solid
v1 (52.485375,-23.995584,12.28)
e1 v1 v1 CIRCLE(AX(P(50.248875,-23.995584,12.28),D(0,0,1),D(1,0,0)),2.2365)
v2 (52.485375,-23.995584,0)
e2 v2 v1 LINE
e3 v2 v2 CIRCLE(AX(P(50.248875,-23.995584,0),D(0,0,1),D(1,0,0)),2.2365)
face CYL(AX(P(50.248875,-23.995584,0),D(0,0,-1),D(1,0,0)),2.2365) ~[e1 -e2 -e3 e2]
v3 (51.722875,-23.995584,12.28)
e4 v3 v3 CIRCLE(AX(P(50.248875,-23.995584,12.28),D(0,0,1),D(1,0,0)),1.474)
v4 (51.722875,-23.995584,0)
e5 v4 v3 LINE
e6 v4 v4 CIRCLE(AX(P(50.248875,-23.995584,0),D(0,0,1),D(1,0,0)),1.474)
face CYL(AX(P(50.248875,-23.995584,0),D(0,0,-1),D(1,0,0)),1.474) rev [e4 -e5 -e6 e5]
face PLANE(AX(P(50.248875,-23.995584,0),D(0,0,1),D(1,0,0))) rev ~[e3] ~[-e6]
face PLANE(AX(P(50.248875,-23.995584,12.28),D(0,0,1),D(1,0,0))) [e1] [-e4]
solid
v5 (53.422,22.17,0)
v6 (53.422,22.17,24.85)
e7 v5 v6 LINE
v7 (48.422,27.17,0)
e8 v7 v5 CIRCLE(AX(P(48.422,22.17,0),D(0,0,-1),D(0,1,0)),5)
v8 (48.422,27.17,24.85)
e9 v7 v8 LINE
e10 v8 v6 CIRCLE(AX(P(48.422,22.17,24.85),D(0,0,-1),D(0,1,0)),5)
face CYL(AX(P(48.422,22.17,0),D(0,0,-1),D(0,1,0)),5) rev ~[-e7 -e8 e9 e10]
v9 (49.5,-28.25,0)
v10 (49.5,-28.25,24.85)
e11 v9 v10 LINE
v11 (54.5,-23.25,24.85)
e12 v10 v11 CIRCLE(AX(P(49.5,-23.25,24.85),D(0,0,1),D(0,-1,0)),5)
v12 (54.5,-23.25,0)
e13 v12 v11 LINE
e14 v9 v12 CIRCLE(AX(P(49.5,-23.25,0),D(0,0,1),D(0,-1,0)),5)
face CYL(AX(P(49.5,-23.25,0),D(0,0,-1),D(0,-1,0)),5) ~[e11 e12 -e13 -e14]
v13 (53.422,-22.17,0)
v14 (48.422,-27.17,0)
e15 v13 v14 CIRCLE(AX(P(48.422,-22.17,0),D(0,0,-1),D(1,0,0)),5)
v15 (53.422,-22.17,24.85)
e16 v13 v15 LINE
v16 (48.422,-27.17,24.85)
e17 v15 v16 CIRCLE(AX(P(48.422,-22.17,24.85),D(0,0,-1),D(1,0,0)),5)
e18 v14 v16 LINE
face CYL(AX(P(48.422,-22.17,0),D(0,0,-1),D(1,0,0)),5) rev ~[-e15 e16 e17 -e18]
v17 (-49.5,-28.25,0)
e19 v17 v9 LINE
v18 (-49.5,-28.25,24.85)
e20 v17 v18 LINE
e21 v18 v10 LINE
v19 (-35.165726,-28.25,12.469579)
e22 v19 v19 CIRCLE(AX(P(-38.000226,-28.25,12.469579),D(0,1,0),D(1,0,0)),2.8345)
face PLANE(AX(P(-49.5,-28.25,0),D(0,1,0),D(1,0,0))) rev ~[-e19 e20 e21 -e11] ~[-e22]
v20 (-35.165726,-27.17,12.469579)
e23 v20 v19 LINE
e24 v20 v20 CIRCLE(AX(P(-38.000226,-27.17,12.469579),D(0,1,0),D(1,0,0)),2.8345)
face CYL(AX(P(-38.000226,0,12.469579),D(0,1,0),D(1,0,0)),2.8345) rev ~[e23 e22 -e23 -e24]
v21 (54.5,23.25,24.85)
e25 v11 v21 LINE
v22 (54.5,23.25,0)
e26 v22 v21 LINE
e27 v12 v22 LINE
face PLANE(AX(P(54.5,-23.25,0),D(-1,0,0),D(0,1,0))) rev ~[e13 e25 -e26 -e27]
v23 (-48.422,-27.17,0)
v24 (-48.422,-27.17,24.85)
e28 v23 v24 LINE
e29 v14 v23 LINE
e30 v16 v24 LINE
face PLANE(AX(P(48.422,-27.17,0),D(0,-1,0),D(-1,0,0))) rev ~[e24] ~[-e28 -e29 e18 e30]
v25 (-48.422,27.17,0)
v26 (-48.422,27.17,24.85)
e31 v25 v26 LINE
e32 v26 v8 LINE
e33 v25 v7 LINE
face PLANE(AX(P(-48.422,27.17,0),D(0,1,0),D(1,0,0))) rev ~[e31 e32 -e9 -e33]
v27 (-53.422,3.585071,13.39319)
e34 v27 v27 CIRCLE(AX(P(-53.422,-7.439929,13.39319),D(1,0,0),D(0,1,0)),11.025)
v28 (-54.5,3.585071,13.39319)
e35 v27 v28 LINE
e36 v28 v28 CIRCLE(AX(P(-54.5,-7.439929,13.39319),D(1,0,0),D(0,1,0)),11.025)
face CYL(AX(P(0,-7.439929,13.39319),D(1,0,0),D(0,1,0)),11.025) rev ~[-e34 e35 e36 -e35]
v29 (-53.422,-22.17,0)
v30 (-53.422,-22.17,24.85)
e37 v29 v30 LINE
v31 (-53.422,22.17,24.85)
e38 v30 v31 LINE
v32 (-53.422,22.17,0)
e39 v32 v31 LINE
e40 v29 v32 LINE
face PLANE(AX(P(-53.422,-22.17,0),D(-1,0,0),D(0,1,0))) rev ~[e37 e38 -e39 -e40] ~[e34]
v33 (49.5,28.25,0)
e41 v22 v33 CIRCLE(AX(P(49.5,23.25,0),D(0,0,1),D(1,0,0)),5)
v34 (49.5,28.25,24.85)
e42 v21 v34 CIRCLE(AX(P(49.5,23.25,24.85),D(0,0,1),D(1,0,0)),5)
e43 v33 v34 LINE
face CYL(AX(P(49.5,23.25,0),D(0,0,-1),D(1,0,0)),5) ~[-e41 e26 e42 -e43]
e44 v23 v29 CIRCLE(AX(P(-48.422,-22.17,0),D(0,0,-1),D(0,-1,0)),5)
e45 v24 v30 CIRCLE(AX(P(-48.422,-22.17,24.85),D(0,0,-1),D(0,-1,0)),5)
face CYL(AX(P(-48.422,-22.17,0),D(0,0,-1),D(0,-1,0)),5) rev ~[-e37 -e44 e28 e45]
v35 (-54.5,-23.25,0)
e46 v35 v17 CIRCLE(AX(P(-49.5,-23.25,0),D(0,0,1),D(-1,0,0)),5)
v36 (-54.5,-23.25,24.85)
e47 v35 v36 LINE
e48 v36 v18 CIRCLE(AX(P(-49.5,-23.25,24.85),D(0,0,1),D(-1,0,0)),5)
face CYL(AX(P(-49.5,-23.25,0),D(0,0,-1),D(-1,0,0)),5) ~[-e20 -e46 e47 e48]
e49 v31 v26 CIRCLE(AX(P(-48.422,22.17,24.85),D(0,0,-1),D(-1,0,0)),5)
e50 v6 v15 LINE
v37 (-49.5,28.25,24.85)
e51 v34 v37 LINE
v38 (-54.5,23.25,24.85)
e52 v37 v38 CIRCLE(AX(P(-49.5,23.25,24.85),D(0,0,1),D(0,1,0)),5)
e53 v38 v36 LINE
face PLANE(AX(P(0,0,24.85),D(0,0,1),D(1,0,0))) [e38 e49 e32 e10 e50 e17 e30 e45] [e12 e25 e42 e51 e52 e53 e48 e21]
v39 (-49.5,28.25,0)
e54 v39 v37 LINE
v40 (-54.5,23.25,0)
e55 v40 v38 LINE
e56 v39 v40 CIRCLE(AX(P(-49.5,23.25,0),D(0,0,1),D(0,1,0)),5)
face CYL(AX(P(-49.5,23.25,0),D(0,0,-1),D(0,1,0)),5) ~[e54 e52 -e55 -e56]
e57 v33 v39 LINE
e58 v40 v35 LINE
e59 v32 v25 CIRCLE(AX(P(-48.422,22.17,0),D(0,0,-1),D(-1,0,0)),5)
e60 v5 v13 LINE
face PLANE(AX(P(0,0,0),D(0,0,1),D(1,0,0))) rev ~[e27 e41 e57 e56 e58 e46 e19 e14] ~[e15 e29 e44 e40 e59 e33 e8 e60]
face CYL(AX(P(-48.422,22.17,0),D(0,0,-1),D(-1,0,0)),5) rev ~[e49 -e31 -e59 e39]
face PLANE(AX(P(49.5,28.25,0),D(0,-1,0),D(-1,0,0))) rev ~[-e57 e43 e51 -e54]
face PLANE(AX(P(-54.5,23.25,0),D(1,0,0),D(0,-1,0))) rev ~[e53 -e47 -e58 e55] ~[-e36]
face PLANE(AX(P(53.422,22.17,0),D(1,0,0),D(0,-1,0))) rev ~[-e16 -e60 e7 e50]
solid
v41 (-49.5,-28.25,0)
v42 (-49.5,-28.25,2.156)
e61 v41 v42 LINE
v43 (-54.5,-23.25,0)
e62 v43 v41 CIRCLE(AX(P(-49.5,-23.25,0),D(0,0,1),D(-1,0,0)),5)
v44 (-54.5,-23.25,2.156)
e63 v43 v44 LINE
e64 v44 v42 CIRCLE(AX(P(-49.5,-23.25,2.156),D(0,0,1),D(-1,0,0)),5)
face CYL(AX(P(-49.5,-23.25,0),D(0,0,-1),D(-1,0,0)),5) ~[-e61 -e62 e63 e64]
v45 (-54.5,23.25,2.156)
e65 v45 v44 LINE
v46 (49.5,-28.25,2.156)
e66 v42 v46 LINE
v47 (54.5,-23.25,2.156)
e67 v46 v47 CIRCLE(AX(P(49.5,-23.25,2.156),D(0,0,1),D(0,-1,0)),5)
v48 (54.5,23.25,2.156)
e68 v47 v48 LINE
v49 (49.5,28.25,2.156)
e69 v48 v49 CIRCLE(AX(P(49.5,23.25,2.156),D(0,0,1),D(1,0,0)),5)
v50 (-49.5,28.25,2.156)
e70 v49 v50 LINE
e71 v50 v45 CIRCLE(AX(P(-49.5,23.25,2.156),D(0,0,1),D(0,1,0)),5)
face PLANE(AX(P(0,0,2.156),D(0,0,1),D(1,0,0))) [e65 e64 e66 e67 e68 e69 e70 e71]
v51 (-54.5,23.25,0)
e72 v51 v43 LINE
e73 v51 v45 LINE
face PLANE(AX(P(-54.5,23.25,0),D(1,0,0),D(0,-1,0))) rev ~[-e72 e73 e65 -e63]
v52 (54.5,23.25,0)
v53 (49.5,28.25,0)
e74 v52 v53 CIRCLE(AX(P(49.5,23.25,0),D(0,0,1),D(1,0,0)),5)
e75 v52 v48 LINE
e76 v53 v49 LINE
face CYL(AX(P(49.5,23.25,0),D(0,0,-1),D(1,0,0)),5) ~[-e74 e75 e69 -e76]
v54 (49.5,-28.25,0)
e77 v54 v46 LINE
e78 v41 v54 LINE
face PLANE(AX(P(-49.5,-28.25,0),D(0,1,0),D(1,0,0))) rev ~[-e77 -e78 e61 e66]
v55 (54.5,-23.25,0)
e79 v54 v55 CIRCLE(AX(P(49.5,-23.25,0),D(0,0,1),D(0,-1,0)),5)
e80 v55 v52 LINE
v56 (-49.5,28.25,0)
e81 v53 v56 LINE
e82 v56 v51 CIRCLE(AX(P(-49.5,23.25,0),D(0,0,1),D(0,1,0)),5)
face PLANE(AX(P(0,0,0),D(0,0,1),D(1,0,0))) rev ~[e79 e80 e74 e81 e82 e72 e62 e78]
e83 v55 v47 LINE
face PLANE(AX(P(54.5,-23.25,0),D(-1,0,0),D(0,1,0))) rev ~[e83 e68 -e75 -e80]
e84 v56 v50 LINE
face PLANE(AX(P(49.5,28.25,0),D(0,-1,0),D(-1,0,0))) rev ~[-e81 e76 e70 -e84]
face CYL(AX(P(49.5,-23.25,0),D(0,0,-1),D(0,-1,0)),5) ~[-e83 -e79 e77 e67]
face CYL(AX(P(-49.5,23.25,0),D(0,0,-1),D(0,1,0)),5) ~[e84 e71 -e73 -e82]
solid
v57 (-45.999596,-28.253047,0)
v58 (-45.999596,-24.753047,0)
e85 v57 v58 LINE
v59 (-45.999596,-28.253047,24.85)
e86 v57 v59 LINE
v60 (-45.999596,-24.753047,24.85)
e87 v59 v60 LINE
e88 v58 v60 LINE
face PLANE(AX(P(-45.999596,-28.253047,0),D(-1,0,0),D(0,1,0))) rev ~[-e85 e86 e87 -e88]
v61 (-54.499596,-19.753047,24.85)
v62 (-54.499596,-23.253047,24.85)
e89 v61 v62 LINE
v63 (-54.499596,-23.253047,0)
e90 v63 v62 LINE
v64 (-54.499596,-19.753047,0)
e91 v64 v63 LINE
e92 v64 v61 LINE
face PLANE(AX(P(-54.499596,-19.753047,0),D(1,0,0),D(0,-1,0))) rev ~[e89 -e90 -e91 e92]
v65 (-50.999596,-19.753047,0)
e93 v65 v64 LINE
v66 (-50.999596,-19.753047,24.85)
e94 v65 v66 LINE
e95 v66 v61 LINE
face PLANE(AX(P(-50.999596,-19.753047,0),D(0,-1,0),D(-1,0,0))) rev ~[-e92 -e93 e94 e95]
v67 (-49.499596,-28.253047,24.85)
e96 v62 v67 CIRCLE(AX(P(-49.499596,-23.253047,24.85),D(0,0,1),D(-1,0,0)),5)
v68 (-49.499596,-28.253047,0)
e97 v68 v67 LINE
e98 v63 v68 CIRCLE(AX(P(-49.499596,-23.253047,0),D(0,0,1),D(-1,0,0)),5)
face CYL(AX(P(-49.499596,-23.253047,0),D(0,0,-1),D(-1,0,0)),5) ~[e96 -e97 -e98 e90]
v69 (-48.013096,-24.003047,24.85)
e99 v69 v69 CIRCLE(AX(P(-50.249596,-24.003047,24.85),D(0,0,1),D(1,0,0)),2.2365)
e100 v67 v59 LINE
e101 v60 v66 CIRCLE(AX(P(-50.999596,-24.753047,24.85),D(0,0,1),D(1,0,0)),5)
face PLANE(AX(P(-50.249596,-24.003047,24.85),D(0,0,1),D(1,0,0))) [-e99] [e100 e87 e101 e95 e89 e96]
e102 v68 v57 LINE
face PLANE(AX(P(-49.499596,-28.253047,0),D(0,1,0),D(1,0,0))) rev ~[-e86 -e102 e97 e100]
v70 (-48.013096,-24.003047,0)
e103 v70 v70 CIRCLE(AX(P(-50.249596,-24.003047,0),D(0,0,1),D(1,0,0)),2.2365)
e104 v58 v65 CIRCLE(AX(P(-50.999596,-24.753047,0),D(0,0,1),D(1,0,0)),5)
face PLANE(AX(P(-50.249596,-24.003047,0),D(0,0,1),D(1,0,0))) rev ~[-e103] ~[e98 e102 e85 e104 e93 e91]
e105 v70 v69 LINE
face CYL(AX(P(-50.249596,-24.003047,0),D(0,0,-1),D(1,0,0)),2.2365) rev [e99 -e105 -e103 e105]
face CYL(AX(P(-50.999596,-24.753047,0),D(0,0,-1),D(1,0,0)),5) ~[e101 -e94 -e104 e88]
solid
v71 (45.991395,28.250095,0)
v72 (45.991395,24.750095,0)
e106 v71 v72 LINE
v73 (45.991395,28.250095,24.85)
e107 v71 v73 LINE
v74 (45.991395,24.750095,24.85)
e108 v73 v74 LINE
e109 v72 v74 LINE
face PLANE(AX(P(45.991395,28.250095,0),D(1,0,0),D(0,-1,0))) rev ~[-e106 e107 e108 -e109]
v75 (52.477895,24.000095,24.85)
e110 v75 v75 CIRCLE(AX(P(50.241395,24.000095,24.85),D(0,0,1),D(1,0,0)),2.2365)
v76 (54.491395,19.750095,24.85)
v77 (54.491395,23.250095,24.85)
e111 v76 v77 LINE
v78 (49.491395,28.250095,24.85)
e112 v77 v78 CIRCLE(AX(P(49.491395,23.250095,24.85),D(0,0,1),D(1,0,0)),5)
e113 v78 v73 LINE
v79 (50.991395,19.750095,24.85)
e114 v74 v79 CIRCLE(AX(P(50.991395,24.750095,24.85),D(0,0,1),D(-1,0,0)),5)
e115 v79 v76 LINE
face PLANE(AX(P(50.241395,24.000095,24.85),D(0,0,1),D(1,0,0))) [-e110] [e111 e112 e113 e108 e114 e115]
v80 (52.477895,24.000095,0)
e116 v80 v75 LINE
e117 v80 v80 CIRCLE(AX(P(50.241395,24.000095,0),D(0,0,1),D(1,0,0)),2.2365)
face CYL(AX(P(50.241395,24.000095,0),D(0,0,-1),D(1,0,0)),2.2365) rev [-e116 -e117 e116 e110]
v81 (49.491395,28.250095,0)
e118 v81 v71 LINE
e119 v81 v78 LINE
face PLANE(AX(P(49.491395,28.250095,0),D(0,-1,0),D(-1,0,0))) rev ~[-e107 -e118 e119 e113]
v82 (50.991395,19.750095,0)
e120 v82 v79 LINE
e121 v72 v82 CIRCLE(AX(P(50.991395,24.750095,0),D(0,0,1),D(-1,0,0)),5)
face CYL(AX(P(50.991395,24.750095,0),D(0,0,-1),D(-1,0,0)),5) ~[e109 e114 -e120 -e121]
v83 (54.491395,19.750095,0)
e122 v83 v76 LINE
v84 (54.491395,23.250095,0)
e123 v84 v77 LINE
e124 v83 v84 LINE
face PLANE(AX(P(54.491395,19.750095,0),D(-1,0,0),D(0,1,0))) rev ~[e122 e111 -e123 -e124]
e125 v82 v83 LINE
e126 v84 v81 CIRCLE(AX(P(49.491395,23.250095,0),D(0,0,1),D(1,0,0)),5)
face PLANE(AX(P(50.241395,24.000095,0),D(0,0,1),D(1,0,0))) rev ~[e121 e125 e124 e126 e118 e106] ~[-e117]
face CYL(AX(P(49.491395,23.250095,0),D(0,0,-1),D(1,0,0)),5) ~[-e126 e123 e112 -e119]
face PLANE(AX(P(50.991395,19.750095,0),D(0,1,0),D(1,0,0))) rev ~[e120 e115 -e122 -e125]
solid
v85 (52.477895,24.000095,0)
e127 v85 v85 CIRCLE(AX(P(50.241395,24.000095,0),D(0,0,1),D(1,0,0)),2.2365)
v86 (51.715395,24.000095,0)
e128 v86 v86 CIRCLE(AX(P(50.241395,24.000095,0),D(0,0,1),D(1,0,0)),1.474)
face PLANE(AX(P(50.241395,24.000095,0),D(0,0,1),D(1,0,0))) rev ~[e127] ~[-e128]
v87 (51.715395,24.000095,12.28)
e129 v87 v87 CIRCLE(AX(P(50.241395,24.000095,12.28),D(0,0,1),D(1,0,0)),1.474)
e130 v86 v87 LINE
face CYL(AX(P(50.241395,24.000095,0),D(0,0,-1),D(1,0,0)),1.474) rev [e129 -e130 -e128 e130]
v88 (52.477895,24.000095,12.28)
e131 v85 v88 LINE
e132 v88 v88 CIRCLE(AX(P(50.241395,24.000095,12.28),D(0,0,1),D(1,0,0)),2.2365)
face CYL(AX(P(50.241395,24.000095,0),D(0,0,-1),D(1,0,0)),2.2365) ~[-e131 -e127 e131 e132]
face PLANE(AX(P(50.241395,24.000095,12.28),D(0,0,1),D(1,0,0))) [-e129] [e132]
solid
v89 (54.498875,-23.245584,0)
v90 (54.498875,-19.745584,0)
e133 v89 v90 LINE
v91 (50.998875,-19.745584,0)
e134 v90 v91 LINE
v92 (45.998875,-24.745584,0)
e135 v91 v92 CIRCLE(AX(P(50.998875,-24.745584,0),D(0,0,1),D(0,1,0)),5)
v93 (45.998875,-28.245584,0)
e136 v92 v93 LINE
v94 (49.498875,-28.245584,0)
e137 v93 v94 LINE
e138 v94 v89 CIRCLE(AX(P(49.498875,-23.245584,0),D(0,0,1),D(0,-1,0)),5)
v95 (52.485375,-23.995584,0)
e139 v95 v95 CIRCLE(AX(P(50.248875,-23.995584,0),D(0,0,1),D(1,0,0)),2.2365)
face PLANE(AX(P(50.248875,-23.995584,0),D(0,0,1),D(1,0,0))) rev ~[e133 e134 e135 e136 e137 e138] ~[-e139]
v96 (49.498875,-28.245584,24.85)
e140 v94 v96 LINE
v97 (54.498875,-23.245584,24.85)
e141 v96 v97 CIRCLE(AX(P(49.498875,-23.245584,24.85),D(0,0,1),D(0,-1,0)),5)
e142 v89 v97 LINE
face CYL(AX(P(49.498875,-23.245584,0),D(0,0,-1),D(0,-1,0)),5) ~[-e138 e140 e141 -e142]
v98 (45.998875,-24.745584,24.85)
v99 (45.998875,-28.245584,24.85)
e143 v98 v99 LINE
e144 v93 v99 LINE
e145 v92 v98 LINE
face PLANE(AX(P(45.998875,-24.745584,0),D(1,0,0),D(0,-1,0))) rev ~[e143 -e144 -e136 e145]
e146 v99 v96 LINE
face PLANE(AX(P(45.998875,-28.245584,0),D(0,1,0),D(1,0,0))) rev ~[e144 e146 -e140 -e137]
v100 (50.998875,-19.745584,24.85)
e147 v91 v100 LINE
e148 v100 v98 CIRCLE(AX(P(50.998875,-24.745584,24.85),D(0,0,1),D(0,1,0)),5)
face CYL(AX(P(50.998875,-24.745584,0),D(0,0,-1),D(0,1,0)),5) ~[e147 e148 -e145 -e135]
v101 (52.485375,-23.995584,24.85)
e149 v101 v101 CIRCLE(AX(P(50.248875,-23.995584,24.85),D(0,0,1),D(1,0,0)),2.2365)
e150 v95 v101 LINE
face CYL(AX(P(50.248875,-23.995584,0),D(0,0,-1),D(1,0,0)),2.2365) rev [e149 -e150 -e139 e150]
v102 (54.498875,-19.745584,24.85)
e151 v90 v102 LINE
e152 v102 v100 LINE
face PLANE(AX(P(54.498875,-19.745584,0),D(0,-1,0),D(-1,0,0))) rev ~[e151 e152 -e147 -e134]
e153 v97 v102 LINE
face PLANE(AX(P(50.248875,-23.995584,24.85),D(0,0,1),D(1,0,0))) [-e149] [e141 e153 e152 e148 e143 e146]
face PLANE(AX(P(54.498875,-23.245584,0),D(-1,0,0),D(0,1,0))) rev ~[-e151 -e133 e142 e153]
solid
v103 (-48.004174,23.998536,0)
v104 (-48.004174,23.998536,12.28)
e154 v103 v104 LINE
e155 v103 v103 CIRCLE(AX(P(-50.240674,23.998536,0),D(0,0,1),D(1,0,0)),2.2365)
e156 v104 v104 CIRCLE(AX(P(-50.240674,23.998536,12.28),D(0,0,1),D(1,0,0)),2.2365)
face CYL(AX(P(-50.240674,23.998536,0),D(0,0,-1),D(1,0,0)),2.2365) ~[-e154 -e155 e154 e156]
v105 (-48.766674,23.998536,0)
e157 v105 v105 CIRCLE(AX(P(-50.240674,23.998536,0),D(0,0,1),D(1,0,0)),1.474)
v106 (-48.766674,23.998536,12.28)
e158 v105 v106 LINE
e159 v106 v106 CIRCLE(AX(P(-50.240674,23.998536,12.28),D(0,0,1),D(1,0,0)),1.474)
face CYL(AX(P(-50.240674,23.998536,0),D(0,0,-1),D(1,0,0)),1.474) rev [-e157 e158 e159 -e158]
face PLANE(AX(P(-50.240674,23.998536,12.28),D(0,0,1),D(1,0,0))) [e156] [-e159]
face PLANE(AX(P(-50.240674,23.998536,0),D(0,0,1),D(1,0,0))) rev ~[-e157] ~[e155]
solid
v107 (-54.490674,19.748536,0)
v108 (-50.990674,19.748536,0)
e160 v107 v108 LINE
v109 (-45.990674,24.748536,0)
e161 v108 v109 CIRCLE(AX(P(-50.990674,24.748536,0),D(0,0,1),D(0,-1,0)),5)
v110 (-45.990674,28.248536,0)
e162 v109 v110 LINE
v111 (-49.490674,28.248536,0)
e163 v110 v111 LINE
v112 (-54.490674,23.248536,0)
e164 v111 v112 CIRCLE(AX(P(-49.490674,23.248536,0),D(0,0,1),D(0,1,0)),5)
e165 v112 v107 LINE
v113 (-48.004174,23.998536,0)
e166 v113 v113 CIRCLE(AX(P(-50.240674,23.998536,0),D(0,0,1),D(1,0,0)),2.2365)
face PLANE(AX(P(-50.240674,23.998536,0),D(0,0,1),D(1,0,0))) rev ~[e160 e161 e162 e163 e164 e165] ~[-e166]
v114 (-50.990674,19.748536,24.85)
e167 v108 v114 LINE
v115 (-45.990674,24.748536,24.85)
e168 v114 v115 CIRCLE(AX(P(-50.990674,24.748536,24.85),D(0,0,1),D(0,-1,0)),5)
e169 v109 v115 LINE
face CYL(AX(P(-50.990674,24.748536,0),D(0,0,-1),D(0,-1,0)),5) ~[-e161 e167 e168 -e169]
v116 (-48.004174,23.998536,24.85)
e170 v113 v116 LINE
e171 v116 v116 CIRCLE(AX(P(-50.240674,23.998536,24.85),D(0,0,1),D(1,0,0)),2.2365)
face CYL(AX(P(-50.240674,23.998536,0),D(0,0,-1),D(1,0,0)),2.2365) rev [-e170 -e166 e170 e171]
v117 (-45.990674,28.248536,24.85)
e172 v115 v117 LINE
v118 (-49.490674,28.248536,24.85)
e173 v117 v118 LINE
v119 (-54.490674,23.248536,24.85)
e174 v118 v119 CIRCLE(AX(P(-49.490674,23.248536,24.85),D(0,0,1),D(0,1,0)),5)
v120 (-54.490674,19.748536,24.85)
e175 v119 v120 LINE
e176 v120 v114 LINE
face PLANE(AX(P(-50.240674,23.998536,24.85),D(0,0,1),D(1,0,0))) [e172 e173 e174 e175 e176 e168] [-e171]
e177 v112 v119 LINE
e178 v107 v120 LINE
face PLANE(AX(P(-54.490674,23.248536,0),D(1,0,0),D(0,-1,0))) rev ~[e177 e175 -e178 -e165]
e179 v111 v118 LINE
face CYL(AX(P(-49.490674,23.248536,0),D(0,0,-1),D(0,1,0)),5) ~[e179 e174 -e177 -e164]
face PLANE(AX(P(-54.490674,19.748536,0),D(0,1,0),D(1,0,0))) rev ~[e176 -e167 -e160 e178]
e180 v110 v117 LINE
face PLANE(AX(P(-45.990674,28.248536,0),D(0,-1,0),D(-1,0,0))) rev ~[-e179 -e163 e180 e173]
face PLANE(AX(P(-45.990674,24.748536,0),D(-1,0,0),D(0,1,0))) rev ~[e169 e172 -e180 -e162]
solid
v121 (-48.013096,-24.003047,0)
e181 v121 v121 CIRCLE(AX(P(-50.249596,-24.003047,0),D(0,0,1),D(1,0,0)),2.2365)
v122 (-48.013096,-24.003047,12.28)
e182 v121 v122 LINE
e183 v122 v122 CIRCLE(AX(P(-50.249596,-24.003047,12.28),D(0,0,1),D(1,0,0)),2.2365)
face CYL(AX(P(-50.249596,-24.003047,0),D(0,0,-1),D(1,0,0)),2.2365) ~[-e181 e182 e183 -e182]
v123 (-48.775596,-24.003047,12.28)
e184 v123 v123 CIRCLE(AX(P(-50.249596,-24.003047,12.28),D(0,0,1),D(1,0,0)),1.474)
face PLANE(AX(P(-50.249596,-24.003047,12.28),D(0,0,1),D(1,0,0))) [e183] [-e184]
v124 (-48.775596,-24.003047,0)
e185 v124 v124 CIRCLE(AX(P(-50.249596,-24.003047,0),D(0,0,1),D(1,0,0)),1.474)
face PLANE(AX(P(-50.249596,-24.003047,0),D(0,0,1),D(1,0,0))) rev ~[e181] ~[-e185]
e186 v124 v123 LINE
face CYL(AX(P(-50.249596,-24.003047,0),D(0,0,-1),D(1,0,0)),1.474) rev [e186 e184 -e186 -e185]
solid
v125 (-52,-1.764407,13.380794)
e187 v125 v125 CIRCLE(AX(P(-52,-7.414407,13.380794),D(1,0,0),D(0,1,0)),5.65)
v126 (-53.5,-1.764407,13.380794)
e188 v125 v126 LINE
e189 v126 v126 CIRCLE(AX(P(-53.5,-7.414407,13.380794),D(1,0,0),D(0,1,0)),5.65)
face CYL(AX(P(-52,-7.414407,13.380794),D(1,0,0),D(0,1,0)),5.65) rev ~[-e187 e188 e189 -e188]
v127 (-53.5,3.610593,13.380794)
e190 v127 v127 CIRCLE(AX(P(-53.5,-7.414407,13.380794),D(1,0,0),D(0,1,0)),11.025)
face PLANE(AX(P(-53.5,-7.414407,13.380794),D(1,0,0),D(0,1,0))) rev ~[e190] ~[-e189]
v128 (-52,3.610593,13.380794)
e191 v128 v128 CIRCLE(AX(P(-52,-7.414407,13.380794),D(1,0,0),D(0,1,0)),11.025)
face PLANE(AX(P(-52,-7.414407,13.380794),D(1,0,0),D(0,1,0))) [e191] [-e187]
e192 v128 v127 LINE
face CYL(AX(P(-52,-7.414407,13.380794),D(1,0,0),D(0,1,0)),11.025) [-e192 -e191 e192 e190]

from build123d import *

# Parameters (mm, degrees)
F1_DEPTH  = 2.156
F3_DEPTH  = 24.85
F4_R      = 2.2365
F5_DEPTH  = 24.85
F6_R      = 2.2365
F6_R_2    = 1.474
F7_DEPTH  = 12.28
F9_D      = 5.669
F9_DEPTH  = 28.251
F11_D     = 22.05
F11_DEPTH = 54.501
F12_R     = 11.025
F12_R_2   = 5.65
F13_DEPTH = 1.5


with BuildPart() as f1:
    # F0 (on Top) → F1 (new body)
    with BuildSketch(Plane.XY):
        with BuildLine():
            Line((-49.5, -28.25), (49.5, -28.25))
            ThreePointArc((49.5, -28.25), (53.0355339059, -26.7855339059), (54.5, -23.25))
            Line((54.5, -23.25), (54.5, 23.25))
            ThreePointArc((54.5, 23.25), (53.0355339059, 26.7855339059), (49.5, 28.25))
            Line((49.5, 28.25), (-49.5, 28.25))
            ThreePointArc((-49.5, 28.25), (-53.0355339059, 26.7855339059), (-54.5, 23.25))
            Line((-54.5, 23.25), (-54.5, -23.25))
            ThreePointArc((-54.5, -23.25), (-53.0355339059, -26.7855339059), (-49.5, -28.25))
        make_face()
    extrude(amount=F1_DEPTH)


with BuildPart() as f3:
    # F2 (on Top) → F3 (new body)
    with BuildSketch(Plane.XY):
        with BuildLine():
            Line((-49.5, -28.25), (49.5, -28.25))
            ThreePointArc((49.5, -28.25), (53.0355339059, -26.7855339059), (54.5, -23.25))
            Line((54.5, -23.25), (54.5, 23.25))
            ThreePointArc((54.5, 23.25), (53.0355339059, 26.7855339059), (49.5, 28.25))
            Line((49.5, 28.25), (-49.5, 28.25))
            ThreePointArc((-49.5, 28.25), (-53.0355339059, 26.7855339059), (-54.5, 23.25))
            Line((-54.5, 23.25), (-54.5, -23.25))
            ThreePointArc((-54.5, -23.25), (-53.0355339059, -26.7855339059), (-49.5, -28.25))
        make_face()
        with BuildLine():
            Line((-48.422, 27.17), (48.422, 27.17))
            ThreePointArc((48.422, 27.17), (51.9575339059, 25.7055339059), (53.422, 22.17))
            Line((53.422, 22.17), (53.422, -22.17))
            ThreePointArc((53.422, -22.17), (51.9575339059, -25.7055339059), (48.422, -27.17))
            Line((48.422, -27.17), (-48.422, -27.17))
            ThreePointArc((-48.422, -27.17), (-51.9575339059, -25.7055339059), (-53.422, -22.17))
            Line((-53.422, -22.17), (-53.422, 22.17))
            ThreePointArc((-53.422, 22.17), (-51.9575339059, 25.7055339059), (-48.422, 27.17))
        make_face(mode=Mode.SUBTRACT)
    extrude(amount=F3_DEPTH)

    # F9 (through all, one way)
    with BuildSketch(Plane(origin=(0, 0, 0), x_dir=(1, 0, 0), z_dir=(0, 1, 0))):
        with Locations((-38.0002260208, -12.4695785344)):
            Circle(F9_D / 2)
    extrude(amount=-F9_DEPTH, mode=Mode.SUBTRACT)

    # F11 (through all, one way)
    with BuildSketch(Plane.YZ):
        with Locations((-7.439928595, 13.3931897581)):
            Circle(F11_D / 2)
    extrude(amount=-F11_DEPTH, mode=Mode.SUBTRACT)


with BuildPart() as f5:
    # F4 (on Top) → F5 (new body)
    with BuildSketch(Plane.XY):
        with BuildLine():
            Line((45.9988752827, -28.245583877), (49.4988752827, -28.245583877))
            ThreePointArc((49.4988752827, -28.245583877), (53.0344091886, -26.7811177829), (54.4988752827, -23.245583877))
            Line((54.4988752827, -23.245583877), (54.4988752827, -19.745583877))
            Line((54.4988752827, -19.745583877), (50.9988752827, -19.745583877))
            ThreePointArc((50.9988752827, -19.745583877), (47.4633413768, -21.210049971), (45.9988752827, -24.745583877))
            Line((45.9988752827, -24.745583877), (45.9988752827, -28.245583877))
        make_face()
        with Locations((50.2488752827, -23.995583877)):
            Circle(F4_R, mode=Mode.SUBTRACT)
    extrude(amount=F5_DEPTH)


with BuildPart() as f5b:
    # F4 (on Top) → F5, piece 2 (new body)
    with BuildSketch(Plane.XY):
        with BuildLine():
            Line((50.9913948998, 19.7500952035), (54.4913948998, 19.7500952035))
            Line((54.4913948998, 19.7500952035), (54.4913948998, 23.2500952035))
            ThreePointArc((54.4913948998, 23.2500952035), (53.0269288057, 26.7856291095), (49.4913948998, 28.2500952035))
            Line((49.4913948998, 28.2500952035), (45.9913948998, 28.2500952035))
            Line((45.9913948998, 28.2500952035), (45.9913948998, 24.7500952035))
            ThreePointArc((45.9913948998, 24.7500952035), (47.4558609939, 21.2145612976), (50.9913948998, 19.7500952035))
        make_face()
        with Locations((50.2413948998, 24.0000952035)):
            Circle(F4_R, mode=Mode.SUBTRACT)
    extrude(amount=F5_DEPTH)


with BuildPart() as f5c:
    # F4 (on Top) → F5, piece 3 (new body)
    with BuildSketch(Plane.XY):
        with BuildLine():
            Line((-49.4995961264, -28.2530474961), (-45.9995961264, -28.2530474961))
            Line((-45.9995961264, -28.2530474961), (-45.9995961264, -24.7530474961))
            ThreePointArc((-45.9995961264, -24.7530474961), (-47.4640622204, -21.2175135901), (-50.9995961264, -19.7530474961))
            Line((-50.9995961264, -19.7530474961), (-54.4995961264, -19.7530474961))
            Line((-54.4995961264, -19.7530474961), (-54.4995961264, -23.2530474961))
            ThreePointArc((-54.4995961264, -23.2530474961), (-53.0351300323, -26.788581402), (-49.4995961264, -28.2530474961))
        make_face()
        with Locations((-50.2495961264, -24.0030474961)):
            Circle(F4_R, mode=Mode.SUBTRACT)
    extrude(amount=F5_DEPTH)


with BuildPart() as f5d:
    # F4 (on Top) → F5, piece 4 (new body)
    with BuildSketch(Plane.XY):
        with BuildLine():
            Line((-54.4906740561, 19.7485361695), (-50.9906740561, 19.7485361695))
            ThreePointArc((-50.9906740561, 19.7485361695), (-47.4551401502, 21.2130022636), (-45.9906740561, 24.7485361695))
            Line((-45.9906740561, 24.7485361695), (-45.9906740561, 28.2485361695))
            Line((-45.9906740561, 28.2485361695), (-49.4906740561, 28.2485361695))
            ThreePointArc((-49.4906740561, 28.2485361695), (-53.026207962, 26.7840700755), (-54.4906740561, 23.2485361695))
            Line((-54.4906740561, 23.2485361695), (-54.4906740561, 19.7485361695))
        make_face()
        with Locations((-50.2406740561, 23.9985361695)):
            Circle(F4_R, mode=Mode.SUBTRACT)
    extrude(amount=F5_DEPTH)


with BuildPart() as f7:
    # F6 (on Top) → F7 (new body)
    with BuildSketch(Plane.XY):
        with Locations((-50.2406740561, 23.9985361695)):
            Circle(F6_R)
        with Locations((-50.2406740561, 23.9985361695)):
            Circle(F6_R_2, mode=Mode.SUBTRACT)
    extrude(amount=F7_DEPTH)


with BuildPart() as f7b:
    # F6 (on Top) → F7, piece 2 (new body)
    with BuildSketch(Plane.XY):
        with Locations((50.2413948998, 24.0000952035)):
            Circle(F6_R)
        with Locations((50.2413948998, 24.0000952035)):
            Circle(F6_R_2, mode=Mode.SUBTRACT)
    extrude(amount=F7_DEPTH)


with BuildPart() as f7c:
    # F6 (on Top) → F7, piece 3 (new body)
    with BuildSketch(Plane.XY):
        with Locations((50.2488752827, -23.995583877)):
            Circle(F6_R)
        with Locations((50.2488752827, -23.995583877)):
            Circle(F6_R_2, mode=Mode.SUBTRACT)
    extrude(amount=F7_DEPTH)


with BuildPart() as f7d:
    # F6 (on Top) → F7, piece 4 (new body)
    with BuildSketch(Plane.XY):
        with Locations((-50.2495961264, -24.0030474961)):
            Circle(F6_R)
        with Locations((-50.2495961264, -24.0030474961)):
            Circle(F6_R_2, mode=Mode.SUBTRACT)
    extrude(amount=F7_DEPTH)


with BuildPart() as f13:
    # F12 (on Right) → F13 (new body)
    with BuildSketch(Plane.YZ):
        with Locations((-7.4144070968, 13.3807938546)):
            Circle(F12_R)
        with Locations((-7.4144070968, 13.3807938546)):
            Circle(F12_R_2, mode=Mode.SUBTRACT)
    extrude(amount=-F13_DEPTH)


with BuildPart() as f13_1:
    # F14: moved
    add(f13.part.moved(Location((-52, 0, 0))))


solid = Compound([f1.part, f3.part, f5.part, f5b.part, f5c.part, f5d.part, f7.part, f7b.part, f7c.part, f7d.part, f13_1.part])
